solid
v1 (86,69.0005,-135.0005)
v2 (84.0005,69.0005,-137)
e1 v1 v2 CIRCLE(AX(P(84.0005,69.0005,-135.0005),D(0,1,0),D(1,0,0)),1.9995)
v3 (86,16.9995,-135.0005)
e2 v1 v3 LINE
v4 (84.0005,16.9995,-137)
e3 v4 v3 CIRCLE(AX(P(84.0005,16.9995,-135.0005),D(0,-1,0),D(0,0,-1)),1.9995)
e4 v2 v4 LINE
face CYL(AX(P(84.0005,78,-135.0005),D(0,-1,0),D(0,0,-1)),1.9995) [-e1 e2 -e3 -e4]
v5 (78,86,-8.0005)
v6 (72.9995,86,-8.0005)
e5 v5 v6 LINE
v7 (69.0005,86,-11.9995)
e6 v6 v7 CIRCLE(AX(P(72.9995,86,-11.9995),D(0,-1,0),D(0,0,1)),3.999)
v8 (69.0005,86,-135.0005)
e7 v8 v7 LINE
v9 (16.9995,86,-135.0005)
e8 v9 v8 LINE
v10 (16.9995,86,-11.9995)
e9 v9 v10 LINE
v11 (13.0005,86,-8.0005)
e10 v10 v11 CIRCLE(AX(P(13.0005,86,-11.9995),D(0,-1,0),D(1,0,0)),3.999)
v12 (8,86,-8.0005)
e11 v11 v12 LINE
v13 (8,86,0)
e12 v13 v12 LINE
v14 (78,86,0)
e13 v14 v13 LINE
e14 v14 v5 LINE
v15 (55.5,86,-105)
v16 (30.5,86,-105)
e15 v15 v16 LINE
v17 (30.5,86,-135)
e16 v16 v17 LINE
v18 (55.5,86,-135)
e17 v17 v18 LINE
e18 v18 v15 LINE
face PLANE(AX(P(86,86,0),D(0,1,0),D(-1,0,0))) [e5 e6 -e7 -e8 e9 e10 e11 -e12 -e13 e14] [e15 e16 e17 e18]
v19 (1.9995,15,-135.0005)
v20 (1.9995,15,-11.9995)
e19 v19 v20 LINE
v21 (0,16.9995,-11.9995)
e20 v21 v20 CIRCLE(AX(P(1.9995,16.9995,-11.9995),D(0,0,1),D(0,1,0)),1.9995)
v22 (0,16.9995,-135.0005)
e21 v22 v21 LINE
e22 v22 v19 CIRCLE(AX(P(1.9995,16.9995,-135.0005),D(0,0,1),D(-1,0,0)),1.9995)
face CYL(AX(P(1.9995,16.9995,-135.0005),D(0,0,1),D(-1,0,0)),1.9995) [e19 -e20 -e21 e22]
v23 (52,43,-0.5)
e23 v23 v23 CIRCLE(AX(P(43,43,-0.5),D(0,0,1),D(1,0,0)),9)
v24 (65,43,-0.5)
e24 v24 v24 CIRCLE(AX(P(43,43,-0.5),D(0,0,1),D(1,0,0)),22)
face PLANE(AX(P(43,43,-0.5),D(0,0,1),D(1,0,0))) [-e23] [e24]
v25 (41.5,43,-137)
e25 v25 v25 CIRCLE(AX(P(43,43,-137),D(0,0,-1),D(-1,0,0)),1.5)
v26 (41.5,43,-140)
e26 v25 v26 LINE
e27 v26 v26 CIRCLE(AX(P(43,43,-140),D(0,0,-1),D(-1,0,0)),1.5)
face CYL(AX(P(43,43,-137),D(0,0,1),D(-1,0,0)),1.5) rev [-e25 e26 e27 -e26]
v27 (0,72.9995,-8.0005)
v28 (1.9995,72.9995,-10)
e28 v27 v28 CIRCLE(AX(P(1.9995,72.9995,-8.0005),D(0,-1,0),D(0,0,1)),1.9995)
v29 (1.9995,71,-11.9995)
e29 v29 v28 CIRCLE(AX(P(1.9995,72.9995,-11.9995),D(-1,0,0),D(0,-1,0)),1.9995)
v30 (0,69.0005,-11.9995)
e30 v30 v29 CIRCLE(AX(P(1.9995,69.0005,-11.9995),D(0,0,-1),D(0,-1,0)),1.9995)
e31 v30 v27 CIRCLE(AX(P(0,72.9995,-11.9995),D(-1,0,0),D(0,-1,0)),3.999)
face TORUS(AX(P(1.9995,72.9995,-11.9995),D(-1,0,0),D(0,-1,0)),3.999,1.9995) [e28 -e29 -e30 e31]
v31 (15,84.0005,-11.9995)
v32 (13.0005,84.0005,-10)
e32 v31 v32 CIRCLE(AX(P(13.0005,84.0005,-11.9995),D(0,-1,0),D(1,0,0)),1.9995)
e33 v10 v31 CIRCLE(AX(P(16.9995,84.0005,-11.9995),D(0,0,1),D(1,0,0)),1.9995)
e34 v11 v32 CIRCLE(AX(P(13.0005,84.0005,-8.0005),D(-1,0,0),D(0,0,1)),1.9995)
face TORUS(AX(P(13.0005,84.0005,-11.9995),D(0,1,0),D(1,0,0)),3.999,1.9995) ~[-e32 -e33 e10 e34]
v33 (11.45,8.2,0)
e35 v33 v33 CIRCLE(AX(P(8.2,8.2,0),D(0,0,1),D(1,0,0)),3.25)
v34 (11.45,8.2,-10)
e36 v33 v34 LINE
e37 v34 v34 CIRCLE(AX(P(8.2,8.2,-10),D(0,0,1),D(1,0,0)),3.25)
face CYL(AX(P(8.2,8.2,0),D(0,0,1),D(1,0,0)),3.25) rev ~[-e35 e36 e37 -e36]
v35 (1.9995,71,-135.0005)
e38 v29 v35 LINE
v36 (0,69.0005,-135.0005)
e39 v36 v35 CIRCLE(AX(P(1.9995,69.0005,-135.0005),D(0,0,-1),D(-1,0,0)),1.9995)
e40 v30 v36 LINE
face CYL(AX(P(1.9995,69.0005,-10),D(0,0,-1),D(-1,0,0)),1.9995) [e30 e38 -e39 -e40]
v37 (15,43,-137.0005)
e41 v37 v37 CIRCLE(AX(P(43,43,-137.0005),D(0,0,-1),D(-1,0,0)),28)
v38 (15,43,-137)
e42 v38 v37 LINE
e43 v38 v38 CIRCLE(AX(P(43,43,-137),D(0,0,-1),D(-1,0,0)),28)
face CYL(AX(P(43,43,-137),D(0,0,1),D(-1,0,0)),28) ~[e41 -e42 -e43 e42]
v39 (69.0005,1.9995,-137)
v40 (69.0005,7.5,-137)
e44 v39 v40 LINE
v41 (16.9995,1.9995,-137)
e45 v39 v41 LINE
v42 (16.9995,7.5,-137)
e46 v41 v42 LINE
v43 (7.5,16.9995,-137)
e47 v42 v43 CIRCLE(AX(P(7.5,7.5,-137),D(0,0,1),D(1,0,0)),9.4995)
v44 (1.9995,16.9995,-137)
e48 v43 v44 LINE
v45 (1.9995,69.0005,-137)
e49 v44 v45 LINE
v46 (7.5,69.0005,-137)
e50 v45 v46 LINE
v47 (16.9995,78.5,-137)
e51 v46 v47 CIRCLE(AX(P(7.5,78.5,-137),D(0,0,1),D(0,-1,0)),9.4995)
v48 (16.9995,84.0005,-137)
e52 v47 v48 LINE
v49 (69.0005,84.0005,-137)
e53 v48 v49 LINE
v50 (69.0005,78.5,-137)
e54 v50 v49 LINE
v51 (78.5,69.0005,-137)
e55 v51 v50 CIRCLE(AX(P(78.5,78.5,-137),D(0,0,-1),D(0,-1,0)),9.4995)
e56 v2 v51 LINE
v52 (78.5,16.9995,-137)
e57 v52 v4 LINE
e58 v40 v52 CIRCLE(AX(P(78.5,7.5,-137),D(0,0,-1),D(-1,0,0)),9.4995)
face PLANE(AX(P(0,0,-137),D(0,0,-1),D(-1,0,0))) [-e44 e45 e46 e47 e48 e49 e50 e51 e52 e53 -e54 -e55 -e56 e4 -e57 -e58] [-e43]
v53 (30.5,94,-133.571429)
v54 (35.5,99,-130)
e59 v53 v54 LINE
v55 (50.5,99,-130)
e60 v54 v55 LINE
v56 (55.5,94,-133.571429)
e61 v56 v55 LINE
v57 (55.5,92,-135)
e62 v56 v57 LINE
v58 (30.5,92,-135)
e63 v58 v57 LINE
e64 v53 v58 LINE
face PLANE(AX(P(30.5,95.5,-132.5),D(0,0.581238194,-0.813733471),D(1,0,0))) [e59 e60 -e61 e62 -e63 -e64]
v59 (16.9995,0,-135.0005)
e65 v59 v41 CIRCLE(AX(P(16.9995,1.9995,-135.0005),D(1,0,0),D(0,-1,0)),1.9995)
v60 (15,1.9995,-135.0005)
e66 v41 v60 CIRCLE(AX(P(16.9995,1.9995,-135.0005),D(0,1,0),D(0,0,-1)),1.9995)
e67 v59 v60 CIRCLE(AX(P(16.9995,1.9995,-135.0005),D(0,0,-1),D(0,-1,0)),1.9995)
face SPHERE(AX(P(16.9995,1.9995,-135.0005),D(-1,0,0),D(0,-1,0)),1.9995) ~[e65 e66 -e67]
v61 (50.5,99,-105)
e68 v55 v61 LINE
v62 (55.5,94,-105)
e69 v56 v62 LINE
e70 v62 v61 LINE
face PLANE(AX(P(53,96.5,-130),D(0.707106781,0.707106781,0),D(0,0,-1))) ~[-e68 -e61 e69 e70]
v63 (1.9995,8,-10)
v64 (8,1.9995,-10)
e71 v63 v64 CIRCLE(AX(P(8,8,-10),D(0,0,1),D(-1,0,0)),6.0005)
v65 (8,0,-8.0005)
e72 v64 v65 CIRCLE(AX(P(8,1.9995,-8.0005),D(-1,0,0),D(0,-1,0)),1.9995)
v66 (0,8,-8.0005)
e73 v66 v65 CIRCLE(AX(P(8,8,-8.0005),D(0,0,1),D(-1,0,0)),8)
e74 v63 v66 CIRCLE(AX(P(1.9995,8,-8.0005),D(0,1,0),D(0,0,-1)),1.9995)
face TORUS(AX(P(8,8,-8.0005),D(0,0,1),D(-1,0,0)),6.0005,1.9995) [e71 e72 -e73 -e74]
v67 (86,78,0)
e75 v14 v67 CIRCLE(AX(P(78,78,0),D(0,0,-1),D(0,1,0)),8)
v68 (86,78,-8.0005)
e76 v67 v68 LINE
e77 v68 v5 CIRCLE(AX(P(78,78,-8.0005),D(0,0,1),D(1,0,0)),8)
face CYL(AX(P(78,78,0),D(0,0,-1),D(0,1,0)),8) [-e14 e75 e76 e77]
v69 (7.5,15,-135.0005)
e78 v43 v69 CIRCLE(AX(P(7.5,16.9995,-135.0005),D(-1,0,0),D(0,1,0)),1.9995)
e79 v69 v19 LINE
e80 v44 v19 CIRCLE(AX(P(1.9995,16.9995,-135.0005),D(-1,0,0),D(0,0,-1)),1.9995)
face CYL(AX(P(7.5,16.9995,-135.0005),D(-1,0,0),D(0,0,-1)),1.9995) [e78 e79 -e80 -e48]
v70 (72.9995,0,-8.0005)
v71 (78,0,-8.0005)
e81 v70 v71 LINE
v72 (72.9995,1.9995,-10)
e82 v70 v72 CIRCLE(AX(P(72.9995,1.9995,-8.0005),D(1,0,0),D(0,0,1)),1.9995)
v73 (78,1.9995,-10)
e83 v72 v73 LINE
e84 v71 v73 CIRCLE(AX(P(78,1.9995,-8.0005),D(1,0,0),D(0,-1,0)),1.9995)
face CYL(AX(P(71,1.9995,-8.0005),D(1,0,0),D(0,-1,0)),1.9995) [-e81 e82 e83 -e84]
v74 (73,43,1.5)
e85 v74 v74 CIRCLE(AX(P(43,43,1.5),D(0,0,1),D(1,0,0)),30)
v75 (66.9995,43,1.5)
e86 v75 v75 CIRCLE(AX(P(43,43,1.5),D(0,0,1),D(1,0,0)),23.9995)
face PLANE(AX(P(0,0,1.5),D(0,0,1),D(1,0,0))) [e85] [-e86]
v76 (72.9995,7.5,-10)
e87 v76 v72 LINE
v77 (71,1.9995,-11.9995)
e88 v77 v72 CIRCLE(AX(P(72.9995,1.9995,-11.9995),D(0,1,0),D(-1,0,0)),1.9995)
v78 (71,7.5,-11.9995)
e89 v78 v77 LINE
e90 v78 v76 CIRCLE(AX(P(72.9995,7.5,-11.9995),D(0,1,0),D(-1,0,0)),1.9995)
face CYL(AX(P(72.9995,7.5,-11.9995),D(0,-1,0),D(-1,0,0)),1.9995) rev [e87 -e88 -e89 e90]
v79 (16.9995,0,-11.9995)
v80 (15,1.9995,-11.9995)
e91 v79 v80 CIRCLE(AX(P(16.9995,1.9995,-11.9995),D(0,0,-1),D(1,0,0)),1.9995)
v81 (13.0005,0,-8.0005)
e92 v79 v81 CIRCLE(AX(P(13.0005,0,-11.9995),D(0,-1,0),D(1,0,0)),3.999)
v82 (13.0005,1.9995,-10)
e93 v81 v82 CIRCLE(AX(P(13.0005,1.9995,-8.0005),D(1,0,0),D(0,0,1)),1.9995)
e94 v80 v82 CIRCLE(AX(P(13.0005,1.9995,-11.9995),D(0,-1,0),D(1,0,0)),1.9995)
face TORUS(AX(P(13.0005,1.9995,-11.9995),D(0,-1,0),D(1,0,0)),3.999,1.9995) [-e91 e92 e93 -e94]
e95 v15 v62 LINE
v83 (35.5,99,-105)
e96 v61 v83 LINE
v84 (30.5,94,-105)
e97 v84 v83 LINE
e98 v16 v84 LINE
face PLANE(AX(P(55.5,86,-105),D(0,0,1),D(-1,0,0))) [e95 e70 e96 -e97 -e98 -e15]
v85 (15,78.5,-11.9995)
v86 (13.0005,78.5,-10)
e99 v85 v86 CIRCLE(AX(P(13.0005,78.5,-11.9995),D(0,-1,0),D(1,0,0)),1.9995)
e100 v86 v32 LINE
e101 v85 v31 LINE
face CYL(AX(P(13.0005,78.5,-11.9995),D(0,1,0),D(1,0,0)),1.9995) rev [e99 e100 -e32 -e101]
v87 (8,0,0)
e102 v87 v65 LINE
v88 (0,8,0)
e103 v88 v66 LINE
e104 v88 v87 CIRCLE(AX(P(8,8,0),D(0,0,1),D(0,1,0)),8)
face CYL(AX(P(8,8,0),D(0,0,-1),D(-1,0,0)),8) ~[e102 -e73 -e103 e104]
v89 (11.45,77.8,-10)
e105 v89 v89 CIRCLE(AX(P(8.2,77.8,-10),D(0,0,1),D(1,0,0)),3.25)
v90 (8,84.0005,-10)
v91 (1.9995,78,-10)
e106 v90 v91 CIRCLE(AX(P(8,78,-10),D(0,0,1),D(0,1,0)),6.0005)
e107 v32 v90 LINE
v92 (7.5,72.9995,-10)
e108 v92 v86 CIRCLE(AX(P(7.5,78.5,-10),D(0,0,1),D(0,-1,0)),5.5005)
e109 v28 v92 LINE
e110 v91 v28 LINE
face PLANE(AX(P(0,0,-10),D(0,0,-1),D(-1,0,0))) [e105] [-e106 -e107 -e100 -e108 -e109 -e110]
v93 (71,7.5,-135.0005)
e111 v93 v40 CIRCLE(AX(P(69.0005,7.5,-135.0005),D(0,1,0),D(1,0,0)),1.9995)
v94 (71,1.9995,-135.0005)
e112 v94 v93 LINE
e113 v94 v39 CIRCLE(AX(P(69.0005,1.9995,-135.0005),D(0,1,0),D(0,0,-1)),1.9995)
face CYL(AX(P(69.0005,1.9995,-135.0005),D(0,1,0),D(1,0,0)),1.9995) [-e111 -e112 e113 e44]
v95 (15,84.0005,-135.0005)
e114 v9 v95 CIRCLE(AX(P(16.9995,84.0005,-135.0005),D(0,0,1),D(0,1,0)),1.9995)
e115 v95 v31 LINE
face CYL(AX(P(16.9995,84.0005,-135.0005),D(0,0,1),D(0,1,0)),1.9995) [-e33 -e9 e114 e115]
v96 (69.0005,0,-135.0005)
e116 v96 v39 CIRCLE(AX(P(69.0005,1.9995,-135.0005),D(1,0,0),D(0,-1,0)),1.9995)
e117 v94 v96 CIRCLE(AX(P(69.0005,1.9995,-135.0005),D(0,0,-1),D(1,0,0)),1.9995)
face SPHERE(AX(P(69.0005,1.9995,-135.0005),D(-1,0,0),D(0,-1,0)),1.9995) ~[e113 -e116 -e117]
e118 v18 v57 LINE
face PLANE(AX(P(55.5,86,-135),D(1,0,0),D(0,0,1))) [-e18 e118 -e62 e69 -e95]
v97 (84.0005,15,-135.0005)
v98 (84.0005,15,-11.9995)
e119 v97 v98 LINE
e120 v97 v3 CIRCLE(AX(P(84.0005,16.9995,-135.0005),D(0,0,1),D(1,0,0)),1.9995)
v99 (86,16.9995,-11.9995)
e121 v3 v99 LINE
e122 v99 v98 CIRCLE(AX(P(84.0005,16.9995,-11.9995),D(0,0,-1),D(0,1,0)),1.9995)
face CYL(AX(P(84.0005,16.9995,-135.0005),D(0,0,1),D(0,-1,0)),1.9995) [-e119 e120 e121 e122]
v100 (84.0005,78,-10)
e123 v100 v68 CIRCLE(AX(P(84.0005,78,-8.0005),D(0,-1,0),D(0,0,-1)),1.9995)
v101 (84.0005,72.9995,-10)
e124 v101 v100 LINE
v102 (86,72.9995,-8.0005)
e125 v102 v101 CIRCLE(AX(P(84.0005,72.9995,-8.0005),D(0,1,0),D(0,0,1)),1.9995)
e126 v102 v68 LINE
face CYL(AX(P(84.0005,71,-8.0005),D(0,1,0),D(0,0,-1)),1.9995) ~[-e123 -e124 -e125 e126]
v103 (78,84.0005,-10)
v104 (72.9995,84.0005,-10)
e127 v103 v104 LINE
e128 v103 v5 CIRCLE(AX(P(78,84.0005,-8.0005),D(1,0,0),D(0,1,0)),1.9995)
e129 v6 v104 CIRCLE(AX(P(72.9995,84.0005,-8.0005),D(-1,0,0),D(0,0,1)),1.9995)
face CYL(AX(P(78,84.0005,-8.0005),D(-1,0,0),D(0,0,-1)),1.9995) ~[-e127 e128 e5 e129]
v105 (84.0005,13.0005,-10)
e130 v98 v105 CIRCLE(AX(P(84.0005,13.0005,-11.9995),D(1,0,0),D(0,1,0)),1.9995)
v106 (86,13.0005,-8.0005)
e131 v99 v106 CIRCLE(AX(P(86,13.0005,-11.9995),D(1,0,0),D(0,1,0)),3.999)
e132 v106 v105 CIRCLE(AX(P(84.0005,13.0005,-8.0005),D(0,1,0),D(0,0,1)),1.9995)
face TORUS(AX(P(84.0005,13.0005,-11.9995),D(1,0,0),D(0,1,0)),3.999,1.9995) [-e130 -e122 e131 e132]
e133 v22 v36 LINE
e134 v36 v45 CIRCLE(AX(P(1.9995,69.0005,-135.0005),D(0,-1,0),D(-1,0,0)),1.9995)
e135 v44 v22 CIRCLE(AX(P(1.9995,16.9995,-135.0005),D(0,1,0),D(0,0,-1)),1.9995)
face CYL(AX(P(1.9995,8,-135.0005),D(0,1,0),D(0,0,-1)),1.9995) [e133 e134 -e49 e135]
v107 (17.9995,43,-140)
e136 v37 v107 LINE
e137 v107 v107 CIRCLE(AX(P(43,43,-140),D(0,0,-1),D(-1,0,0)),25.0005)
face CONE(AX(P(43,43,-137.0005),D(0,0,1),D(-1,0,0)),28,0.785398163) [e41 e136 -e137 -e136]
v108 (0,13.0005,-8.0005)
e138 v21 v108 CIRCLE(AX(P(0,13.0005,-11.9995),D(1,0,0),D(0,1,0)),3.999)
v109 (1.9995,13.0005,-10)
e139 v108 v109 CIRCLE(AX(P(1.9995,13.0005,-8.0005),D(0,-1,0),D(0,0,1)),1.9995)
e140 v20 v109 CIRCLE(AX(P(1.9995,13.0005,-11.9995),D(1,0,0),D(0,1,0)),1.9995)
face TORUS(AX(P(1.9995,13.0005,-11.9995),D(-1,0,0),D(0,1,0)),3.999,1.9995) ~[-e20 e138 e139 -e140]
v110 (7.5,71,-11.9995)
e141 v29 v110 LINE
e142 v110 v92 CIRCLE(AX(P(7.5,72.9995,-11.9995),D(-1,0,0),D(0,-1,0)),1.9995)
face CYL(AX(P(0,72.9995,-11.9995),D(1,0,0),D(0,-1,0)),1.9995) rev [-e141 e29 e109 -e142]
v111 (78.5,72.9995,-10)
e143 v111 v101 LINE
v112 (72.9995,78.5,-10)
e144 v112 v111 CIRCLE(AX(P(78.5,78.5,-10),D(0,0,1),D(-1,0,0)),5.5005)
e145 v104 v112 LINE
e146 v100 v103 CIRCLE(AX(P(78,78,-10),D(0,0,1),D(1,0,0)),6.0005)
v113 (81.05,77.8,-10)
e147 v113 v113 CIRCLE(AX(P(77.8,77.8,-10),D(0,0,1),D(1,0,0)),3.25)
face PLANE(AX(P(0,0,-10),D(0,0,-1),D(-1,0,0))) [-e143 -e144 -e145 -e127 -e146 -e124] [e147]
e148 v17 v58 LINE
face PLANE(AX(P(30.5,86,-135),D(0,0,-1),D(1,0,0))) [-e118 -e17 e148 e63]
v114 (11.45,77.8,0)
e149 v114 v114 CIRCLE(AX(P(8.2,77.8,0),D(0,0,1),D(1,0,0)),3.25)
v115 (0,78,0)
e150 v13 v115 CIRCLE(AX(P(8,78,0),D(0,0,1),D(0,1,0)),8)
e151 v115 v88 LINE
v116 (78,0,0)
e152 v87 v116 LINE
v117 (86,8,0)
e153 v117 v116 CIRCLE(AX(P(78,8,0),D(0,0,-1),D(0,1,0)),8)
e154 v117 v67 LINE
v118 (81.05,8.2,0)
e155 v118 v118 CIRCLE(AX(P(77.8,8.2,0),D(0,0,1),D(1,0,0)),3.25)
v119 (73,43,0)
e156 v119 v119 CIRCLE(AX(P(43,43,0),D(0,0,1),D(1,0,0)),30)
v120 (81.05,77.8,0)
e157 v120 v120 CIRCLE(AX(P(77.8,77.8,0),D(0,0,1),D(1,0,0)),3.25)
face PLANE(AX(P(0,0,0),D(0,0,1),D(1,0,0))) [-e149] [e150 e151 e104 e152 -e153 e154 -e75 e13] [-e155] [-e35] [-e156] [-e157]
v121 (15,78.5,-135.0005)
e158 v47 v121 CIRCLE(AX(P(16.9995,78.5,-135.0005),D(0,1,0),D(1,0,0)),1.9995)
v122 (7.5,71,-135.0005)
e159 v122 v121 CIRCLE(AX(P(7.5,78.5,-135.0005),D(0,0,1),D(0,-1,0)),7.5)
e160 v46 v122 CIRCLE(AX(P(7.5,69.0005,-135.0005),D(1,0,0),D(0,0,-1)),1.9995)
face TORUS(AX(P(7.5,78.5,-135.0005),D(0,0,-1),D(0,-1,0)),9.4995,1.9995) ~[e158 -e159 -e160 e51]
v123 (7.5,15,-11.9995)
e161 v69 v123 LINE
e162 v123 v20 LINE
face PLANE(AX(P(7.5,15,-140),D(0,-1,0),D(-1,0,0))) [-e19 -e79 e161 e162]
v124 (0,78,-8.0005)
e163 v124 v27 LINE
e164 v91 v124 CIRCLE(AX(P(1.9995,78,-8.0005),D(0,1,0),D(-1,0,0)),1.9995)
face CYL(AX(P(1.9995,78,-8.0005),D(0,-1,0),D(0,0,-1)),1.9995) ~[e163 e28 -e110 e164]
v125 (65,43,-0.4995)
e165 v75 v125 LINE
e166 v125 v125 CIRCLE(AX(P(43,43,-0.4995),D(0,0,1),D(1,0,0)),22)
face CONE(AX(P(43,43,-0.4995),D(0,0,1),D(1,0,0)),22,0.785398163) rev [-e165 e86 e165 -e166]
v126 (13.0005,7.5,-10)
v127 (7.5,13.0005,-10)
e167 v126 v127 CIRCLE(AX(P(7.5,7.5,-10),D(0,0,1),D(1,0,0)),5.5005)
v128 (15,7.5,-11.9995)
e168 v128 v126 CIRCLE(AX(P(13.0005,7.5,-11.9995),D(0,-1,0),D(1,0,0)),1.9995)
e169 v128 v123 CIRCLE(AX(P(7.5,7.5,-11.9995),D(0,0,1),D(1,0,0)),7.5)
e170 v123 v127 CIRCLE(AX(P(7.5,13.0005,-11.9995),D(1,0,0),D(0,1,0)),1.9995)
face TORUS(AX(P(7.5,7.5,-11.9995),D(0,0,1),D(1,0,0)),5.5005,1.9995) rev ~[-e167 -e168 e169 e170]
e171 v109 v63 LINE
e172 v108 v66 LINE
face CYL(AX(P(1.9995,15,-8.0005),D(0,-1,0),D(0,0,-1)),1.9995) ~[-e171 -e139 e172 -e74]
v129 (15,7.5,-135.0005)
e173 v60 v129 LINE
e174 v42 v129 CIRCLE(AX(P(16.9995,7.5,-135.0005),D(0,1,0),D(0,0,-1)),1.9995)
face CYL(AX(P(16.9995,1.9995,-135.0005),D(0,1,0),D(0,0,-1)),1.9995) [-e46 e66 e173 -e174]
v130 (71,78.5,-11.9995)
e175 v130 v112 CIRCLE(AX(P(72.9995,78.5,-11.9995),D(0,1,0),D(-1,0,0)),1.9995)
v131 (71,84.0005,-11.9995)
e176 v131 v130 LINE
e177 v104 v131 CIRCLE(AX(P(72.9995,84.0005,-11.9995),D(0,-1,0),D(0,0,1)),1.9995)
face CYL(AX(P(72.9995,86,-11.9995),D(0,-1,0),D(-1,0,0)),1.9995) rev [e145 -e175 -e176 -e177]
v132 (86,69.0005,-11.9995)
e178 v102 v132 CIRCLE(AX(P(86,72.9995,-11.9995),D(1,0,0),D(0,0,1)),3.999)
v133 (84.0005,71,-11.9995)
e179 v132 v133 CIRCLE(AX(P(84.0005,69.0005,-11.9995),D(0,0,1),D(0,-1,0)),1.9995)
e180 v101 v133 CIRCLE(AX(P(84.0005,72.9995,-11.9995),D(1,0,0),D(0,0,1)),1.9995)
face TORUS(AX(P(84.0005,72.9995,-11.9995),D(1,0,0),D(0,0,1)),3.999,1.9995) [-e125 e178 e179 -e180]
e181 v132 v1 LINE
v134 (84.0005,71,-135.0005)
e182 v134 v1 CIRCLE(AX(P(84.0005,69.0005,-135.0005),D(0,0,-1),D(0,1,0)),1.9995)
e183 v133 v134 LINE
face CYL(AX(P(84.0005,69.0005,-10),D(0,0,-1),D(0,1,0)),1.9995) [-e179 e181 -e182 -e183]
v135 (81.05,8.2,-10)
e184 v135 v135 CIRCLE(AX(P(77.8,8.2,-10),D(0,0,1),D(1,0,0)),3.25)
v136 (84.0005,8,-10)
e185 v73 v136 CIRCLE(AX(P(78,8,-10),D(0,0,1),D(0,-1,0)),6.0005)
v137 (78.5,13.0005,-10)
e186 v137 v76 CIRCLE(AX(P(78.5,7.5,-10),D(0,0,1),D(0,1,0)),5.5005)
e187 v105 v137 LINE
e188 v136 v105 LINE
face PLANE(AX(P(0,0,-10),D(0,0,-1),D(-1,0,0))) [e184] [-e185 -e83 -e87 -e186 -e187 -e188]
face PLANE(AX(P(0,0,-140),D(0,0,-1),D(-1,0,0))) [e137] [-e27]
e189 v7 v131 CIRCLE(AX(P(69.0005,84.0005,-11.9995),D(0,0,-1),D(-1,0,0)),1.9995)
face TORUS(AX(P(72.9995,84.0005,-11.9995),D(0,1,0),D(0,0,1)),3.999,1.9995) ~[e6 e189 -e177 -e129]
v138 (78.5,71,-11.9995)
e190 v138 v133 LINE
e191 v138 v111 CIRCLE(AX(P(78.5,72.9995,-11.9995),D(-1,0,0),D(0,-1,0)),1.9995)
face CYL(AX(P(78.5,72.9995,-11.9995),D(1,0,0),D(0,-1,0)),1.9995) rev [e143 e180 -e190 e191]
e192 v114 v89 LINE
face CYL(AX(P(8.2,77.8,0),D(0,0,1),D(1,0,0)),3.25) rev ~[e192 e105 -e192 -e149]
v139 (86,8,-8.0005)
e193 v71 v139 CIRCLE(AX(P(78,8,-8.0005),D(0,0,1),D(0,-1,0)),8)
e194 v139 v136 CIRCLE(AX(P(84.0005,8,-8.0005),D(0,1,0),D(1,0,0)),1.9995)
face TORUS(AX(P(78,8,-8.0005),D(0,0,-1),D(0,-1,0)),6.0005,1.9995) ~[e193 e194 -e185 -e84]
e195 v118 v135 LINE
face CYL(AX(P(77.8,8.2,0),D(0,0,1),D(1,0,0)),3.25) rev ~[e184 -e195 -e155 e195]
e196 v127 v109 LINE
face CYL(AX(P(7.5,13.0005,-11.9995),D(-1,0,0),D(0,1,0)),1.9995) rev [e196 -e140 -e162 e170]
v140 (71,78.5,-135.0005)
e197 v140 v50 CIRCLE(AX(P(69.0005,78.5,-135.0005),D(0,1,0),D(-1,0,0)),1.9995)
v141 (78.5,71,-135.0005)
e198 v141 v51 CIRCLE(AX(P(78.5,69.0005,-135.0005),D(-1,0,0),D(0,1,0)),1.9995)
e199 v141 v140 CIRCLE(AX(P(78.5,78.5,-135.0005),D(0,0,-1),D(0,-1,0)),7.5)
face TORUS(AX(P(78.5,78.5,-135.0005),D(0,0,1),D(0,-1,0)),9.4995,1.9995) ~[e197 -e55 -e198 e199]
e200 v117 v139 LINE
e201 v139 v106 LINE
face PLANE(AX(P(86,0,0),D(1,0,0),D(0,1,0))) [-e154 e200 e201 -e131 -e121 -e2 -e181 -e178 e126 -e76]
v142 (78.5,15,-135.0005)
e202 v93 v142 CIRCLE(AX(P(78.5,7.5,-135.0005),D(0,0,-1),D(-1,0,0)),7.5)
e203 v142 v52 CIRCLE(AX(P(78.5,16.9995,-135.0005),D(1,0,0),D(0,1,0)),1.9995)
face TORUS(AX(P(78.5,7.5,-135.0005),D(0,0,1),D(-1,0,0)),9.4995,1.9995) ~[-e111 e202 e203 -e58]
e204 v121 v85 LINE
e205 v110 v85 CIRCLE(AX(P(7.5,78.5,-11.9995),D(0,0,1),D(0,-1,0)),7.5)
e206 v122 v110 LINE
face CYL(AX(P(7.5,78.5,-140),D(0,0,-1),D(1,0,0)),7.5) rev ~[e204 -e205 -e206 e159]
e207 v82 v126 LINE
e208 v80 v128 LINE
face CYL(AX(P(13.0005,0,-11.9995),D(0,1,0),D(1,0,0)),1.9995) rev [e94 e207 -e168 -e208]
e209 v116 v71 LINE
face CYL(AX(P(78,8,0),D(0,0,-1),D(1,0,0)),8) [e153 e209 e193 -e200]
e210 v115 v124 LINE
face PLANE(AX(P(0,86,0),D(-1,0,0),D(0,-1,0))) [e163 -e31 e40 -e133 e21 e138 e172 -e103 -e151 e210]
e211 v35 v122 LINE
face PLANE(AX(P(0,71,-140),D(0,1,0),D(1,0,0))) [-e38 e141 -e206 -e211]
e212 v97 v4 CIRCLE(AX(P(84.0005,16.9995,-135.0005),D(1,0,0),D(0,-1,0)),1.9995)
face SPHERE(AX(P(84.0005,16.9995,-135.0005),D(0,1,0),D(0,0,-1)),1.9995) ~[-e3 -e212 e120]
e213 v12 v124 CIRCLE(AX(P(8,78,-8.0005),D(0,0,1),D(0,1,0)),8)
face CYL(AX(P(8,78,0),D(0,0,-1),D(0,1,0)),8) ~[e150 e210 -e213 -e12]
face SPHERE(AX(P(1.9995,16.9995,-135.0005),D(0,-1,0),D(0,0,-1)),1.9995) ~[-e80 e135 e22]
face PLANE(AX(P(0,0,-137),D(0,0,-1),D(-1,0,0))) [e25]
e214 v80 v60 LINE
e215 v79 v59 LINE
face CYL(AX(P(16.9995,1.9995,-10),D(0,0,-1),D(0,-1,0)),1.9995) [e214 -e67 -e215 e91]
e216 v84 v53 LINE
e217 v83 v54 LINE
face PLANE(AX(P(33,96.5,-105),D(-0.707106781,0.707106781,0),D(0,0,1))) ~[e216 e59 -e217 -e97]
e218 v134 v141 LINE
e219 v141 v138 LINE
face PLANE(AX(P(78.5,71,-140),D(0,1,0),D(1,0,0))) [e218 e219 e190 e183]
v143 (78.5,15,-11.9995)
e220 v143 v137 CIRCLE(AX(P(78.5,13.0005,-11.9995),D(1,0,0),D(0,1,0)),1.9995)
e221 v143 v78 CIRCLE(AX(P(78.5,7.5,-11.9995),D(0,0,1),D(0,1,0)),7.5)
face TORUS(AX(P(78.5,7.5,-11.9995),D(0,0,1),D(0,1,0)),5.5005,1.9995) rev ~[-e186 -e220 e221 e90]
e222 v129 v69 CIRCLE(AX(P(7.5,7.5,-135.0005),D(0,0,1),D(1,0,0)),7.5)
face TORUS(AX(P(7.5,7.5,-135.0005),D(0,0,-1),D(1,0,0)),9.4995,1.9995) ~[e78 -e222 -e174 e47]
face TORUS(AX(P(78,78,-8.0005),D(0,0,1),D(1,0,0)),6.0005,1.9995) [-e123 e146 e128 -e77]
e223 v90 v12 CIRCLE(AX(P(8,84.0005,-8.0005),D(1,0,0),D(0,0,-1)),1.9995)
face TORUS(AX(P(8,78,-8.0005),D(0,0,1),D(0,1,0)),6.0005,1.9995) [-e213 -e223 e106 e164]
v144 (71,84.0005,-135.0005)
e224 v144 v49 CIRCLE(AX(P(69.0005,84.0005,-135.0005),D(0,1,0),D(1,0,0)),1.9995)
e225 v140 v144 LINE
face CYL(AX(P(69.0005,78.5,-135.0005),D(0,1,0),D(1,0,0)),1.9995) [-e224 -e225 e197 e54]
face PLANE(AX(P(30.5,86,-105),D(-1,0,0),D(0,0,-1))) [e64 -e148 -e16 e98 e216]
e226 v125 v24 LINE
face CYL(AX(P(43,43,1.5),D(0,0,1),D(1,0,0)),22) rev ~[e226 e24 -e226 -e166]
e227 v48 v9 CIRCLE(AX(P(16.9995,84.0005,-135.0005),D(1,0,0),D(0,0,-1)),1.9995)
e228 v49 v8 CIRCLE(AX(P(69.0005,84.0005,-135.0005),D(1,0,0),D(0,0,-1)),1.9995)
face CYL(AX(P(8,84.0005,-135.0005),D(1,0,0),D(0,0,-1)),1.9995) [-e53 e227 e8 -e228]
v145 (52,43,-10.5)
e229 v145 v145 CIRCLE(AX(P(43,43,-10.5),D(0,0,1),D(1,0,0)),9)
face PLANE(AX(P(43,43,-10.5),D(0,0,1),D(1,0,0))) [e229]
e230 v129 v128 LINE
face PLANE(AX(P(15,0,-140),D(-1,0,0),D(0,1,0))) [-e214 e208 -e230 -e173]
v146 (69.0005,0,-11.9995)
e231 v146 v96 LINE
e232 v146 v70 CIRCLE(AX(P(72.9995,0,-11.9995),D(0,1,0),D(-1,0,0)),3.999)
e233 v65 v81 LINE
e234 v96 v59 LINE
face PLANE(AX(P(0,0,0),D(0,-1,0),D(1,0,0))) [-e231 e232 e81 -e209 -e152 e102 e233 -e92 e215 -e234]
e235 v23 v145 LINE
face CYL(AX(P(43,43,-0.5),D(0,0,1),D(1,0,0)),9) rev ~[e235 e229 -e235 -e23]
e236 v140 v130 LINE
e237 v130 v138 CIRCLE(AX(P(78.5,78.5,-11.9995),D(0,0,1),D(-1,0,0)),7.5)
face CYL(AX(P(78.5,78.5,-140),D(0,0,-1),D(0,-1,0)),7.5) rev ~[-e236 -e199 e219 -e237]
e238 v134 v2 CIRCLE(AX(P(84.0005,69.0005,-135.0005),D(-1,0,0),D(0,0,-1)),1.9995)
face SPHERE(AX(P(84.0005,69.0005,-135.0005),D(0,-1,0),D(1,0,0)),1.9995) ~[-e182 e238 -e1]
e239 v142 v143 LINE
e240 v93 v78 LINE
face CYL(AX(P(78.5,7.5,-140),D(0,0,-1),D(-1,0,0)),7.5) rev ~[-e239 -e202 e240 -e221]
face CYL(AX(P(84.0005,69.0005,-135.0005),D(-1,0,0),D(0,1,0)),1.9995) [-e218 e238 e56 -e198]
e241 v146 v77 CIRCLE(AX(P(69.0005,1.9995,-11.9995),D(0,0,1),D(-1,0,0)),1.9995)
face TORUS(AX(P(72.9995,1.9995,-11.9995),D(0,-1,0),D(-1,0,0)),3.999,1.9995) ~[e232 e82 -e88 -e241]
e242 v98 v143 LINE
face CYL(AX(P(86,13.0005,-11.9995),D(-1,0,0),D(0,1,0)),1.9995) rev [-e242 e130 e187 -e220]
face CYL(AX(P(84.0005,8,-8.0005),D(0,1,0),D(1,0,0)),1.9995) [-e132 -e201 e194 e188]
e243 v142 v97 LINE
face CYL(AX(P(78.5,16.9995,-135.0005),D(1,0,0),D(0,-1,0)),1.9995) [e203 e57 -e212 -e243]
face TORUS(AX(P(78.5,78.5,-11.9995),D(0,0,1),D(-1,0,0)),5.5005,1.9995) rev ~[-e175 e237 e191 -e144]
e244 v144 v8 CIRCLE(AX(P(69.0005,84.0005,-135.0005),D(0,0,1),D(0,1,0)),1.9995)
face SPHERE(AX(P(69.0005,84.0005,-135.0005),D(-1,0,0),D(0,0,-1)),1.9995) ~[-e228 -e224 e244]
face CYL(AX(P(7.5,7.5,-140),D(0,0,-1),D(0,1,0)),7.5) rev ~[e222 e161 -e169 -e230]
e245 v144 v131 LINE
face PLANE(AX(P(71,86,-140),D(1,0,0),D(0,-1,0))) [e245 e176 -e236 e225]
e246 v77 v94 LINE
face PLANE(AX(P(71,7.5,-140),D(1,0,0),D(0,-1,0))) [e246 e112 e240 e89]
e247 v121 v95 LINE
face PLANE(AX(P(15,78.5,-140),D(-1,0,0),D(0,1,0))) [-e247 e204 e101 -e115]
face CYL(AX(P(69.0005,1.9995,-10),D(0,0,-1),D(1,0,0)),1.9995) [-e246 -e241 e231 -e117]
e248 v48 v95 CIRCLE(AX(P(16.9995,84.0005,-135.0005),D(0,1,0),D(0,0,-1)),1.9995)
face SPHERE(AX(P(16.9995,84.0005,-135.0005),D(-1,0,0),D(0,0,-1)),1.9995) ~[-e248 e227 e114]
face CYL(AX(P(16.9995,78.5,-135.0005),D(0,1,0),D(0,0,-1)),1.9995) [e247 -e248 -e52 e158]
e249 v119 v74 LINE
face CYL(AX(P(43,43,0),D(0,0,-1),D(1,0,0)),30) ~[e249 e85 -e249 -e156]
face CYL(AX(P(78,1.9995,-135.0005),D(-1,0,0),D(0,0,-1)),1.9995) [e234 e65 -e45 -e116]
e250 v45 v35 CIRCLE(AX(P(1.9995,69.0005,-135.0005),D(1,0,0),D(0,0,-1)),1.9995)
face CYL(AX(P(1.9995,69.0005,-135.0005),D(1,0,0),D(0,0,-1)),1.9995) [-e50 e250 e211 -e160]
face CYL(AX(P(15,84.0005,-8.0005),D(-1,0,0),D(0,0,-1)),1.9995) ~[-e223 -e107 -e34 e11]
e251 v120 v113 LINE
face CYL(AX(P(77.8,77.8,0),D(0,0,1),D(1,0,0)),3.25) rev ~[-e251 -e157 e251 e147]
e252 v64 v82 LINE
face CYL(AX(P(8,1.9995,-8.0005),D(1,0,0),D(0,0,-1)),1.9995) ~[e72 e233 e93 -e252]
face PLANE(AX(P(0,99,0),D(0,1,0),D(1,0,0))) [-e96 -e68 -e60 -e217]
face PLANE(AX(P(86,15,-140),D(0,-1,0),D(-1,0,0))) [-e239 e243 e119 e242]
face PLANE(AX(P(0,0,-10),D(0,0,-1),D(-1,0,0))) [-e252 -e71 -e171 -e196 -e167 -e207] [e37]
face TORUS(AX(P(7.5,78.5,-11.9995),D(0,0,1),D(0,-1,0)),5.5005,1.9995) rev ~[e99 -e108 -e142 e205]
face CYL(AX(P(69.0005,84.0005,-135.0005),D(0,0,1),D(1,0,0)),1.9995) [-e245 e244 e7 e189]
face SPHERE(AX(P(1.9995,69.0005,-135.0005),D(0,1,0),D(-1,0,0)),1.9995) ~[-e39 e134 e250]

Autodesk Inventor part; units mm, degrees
ref_plane "YZ Plane" through (0, 0, 0) normal (1, 0, 0) x (0, 1, 0)
ref_plane "XZ Plane" through (0, 0, 0) normal (0, 1, 0) x (-1, 0, 0)
sketch "Sketch1" plane through (0, 0, 0) normal (0, 0, 1) x (1, 0, 0)
  line L0 (0, 0) -> (86, 0)
  line L1 (86, 0) -> (86, 86)
  line L2 (86, 86) -> (0, 86)
  line L3 (0, 86) -> (0, 0)
  dimension "d0" = 86
  dimension "d1" = 86
extrude "Extrusion1" add sketch "Sketch1" against normal blind 140
sketch "Sketch2" plane through (0, 0, 0) normal (0, 0, 1) x (1, 0, 0)
  line L0 (0, 86) -> (86, 86) construction
  line L1 (43, 86) -> (43, 0) construction
  line L2 (86, 0) -> (0, 0) construction
  line L3 (86, 86) -> (86, 0) construction
  line L4 (86, 43) -> (0, 43) construction
  line L5 (0, 0) -> (0, 86) construction
  circle A0 centre (43, 43) radius 30
  dimension "d5" = 60
extrude "Extrusion2" add sketch "Sketch2" along normal blind 1.5
sketch "Sketch3" plane through (43, 43, 1.5) normal (0, 0, 1) x (1, 0, 0)
  line L0 (43, 43) -> (-43, 43) construction
  line L1 (0, 43) -> (0, -43) construction
  line L2 (-43, -43) -> (43, -43) construction
  line L3 (43, -43) -> (43, 43) construction
  line L4 (43, 0) -> (-43, 0) construction
  line L5 (-43, 43) -> (-43, -43) construction
  circle A0 centre (0, 0) radius 30 projected
  circle A1 centre (0, 0) radius 7
  dimension "d8" = 14
extrude "Extrusion3" add sketch "Sketch3" along normal blind 40 contours A1
hole "Hole1" at (43, 43, 41.5) direction (0, 0, -1) diameter 3 depth 13
ref_plane "Work Plane1" through (36, 43, 1.5) normal (1, 0, 0) x (0, 1, 0)
sketch "Sketch5" plane through (36, 43, 1.5) normal (1, 0, 0) x (0, 1, 0)
  line L0 (7, 40) -> (-7, 40) projected
  line L1 (-7, 0) -> (7, 0) projected
  line L2 (7, 0) -> (7, 40) projected
  line L3 (-7, 0) -> (-7, 40) projected
  line L4 (7, 40) -> (-7, 40) projected
  line L5 (-2.5, 17.5) -> (-2.5, 40)
  line L6 (-2.5, 40) -> (2.5, 40)
  line L7 (2.5, 40) -> (2.5, 17.5)
  line L8 (30, 0) -> (-30, 0) construction
  arc A0 (-2.5, 17.5) -> (2.5, 17.5) centre (0, 17.5) ccw
  point P0 (-43, -1.5)
  point P1 (0, 15)
extrude "Extrusion4" cut sketch "Sketch5" along normal blind 2.438 contours L7 A0 L5 L0
sketch "Sketch6" plane through (0, 0, -140) normal (0, 0, -1) x (-1, 0, 0)
  circle A0 centre (-43, 43) radius 30 projected
  line L0 (-86, 86) -> (-71, 86)
  line L1 (-71, 86) -> (-71, 78.5)
  line L2 (-78.5, 71) -> (-86, 71)
  line L3 (-86, 71) -> (-86, 86)
  arc A1 (-78.5, 71) -> (-71, 78.5) centre (-78.5, 78.5) ccw
  line L4 (-86, 0) -> (-86, 15)
  line L5 (-86, 15) -> (-78.5, 15)
  line L6 (-71, 7.5) -> (-71, 0)
  line L7 (-71, 0) -> (-86, 0)
  arc A2 (-71, 7.5) -> (-78.5, 15) centre (-78.5, 7.5) ccw
  line L8 (0, 0) -> (-15, 0)
  line L9 (-15, 0) -> (-15, 7.5)
  line L10 (-7.5, 15) -> (0, 15)
  line L11 (0, 15) -> (0, 0)
  arc A3 (-7.5, 15) -> (-15, 7.5) centre (-7.5, 7.5) ccw
  line L12 (0, 86) -> (0, 71)
  line L13 (0, 71) -> (-7.5, 71)
  line L14 (-15, 78.5) -> (-15, 86)
  line L15 (-15, 86) -> (0, 86)
  arc A4 (-15, 78.5) -> (-7.5, 71) centre (-7.5, 78.5) ccw
  dimension "d71" = 15
  dimension "d72" = 15
  dimension "d75" = 360
sketch "Sketch7" plane through (0, 0, 0) normal (0, 0, 1) x (1, 0, 0)
  circle A0 centre (8.2, 8.2) radius 3.25
  arc A1 (36.4617, 40.5) -> (36.4617, 45.5) centre (43, 43) ccw projected
  circle A2 centre (43, 43) radius 1.5 projected
  circle A3 centre (43, 43) radius 30 projected
  circle A4 centre (43, 43) radius 7 projected
  circle A5 centre (43, 43) radius 30 projected
  line L0 (86, 86) -> (0, 86) construction
  line L1 (43, 86) -> (43, 0) construction
  line L2 (0, 0) -> (86, 0) construction
  line L3 (0, 86) -> (0, 0) construction
  line L4 (0, 43) -> (86, 43) construction
  line L5 (86, 0) -> (86, 86) construction
  circle A6 centre (8.2, 77.8) radius 3.25
  circle A7 centre (77.8, 8.2) radius 3.25
  circle A8 centre (77.8, 77.8) radius 3.25
  dimension "d36" = 6.5
  dimension "d37" = 69.6
  dimension "d38" = 69.6
extrude "Extrusion6" cut sketch "Sketch7" against normal through all contours A0 | A6 | A7 | A8
sketch "Sketch8" plane through (0, 86, 0) normal (0, 1, 0) x (1, 0, 0)
  line L0 (30.5, 135) -> (55.5, 135)
  line L1 (55.5, 135) -> (55.5, 105)
  line L2 (55.5, 105) -> (30.5, 105)
  line L3 (30.5, 105) -> (30.5, 135)
  line L4 (0, 140) -> (86, 140) projected
  line L5 (43, 135) -> (43, 105) construction
  point P0 (0, 0)
  point P1 (61, 140)
  dimension "d41" = 25
  dimension "d42" = 30
  dimension "d43" = 5
extrude "Extrusion7" add sketch "Sketch8" along normal blind 13
chamfer "Chamfer1" distance 5 distance2 7 1 edges at (43, 99, -135) measured on face at (38.8333, 99, -125)
fillet "Fillet1" radius 8 4 edges at (0, 86, -70) (86, 86, -70) (0, 0, -70) (86, 0, -70)
chamfer "Chamfer2" distance 5 angle 45 2 edges at (30.5, 99, -117.5) (55.5, 99, -117.5)
chamfer "Chamfer3" distance 1 angle 45 2 edges at (44.2711, 36.1164, 41.5) (44.2711, 49.8836, 41.5)
sketch "Sketch9" plane through (0, 0, -140) normal (0, 0, -1) x (-1, 0, 0)
  line L0 (0, 8) -> (0, 78) projected
  line L1 (-8, 86) -> (-78, 86) projected
  line L2 (-86, 78) -> (-86, 8) projected
  line L3 (-78, 0) -> (-8, 0) projected
  arc A0 (-86, 8) -> (-78, 0) centre (-78, 8) ccw projected
  arc A1 (-8, 0) -> (0, 8) centre (-8, 8) ccw projected
  arc A2 (0, 78) -> (-8, 86) centre (-8, 78) ccw projected
  arc A3 (-78, 86) -> (-86, 78) centre (-78, 78) ccw projected
  point P0 (0, 0)
extrude "Extrusion8" cut sketch "Sketch9" against normal blind 3
sketch "Sketch10" plane through (0, 0, -137) normal (0, 0, -1) x (-1, 0, 0)
  circle A0 centre (-43, 43) radius 1.5 projected
  circle A1 centre (-43, 43) radius 28
  point P0 (0, 0)
  dimension "d61" = 56
extrude "Extrusion9" add sketch "Sketch10" along normal blind 3
chamfer "Chamfer4" distance 3 angle 45 1 edges at (71, 43, -140)
fillet "Fillet3" radius 2 4 edges at (86, 43, -137) (43, 86, -137) (0, 43, -137) (43, 0, -137)
extrude "Extrusion10" cut sketch "Sketch6" against normal blind 130 contours L0 L1 A1 L2 L3 | L4 L5 A2 L6 L7 | L8 L9 A3 L10 L11 | L12 L13 A4 L14 L15
fillet "Fillet4" radius 2 52 edges at (15, 85.4144, -136.4144) (15, 81.2502, -137) (12.8033, 73.1967, -137) (4.7498, 71, -137) (0.5856, 71, -136.4144) (0, 71, -72.5002) (15, 86, -72.5002) (0, 74.5, -10) (11.5, 86, -10) (2.3431, 83.6569, -10) (0.5856, 15, -136.4144) (4.7497, 15, -137) (12.8033, 12.8033, -137) (15, 4.7498, -137) (15, 0.5856, -136.4144) (15, 0, -72.5002) (0, 15, -72.5002) (11.5, 0, -10) (0, 11.5, -10) (2.3431, 2.3431, -10) (3.75, 15, -10) (15, 3.75, -10) (12.8033, 12.8033, -10) (15, 82.25, -10) (3.75, 71, -10) (12.8033, 73.1967, -10) (82.25, 71, -10) (71, 82.25, -10) (73.1967, 73.1967, -10) (74.5, 86, -10) (86, 74.5, -10) (83.6569, 83.6569, -10) (71, 85.4144, -136.4144) (71, 81.2502, -137) (73.1967, 73.1967, -137) (81.2502, 71, -137) (85.4144, 71, -136.4144) (86, 71, -72.5002) (71, 86, -72.5002) (86, 11.5, -10) (74.5, 0, -10) (83.6569, 2.3431, -10) (71, 3.75, -10) (82.25, 15, -10) (73.1967, 12.8033, -10) (85.4144, 15, -136.4144) (81.2502, 15, -137) (73.1967, 12.8033, -137) (71, 4.7497, -137) (71, 0.5856, -136.4144) (71, 0, -72.5002) (86, 15, -72.5002)
sketch "Sketch11" plane through (43, 43, 1.5) normal (0, 0, 1) x (1, 0, 0)
  circle A0 centre (0, 0) radius 30 projected
  circle A1 centre (0, 0) radius 22
  point P0 (-43, -43)
  dimension "d81" = 8
extrude "Extrusion11" cut sketch "Sketch11" against normal blind 2 contours A1
chamfer "Chamfer5" distance 2 angle 45 1 edges at (21, 43, 1.5) measured on face at (69.8297, 38.8519, 1.5)
sketch "Sketch13" plane through (43, 43, -0.5) normal (0, 0, 1) x (1, 0, 0)
  circle A0 centre (0, 0) radius 22 projected
  circle A1 centre (0, 0) radius 9
  circle A2 centre (0, 0) radius 1.5 projected
  circle A3 centre (0, 0) radius 7 projected
  circle A4 centre (0, 0) radius 1.5 projected
  circle A5 centre (0, 0) radius 7
  point P0 (-43, -43)
  dimension "d90" = 13
extrude "Extrusion13" cut sketch "Sketch13" against normal blind 10 contours A1 | A2 | A3
sketch "Sketch14" plane through (43, 43, 41.5) normal (0, 0, 1) x (1, 0, 0)
  circle A0 centre (0, 0) radius 1.5 projected
  circle A1 centre (0, 0) radius 7
  point P0 (-43, -43)
extrude "Extrusion14" cut sketch "Sketch14" against normal up to surface (52 mm away)
sketch "Sketch15" plane through (43, 43, 28.5) normal (0, 0, 1) x (1, 0, 0)
  circle A0 centre (0, 0) radius 1.5 projected
  circle A1 centre (0, 0) radius 1.5
  point P0 (-43, -43)
extrude "Extrusion15" cut sketch "Sketch15" against normal up to surface (39 mm away)
